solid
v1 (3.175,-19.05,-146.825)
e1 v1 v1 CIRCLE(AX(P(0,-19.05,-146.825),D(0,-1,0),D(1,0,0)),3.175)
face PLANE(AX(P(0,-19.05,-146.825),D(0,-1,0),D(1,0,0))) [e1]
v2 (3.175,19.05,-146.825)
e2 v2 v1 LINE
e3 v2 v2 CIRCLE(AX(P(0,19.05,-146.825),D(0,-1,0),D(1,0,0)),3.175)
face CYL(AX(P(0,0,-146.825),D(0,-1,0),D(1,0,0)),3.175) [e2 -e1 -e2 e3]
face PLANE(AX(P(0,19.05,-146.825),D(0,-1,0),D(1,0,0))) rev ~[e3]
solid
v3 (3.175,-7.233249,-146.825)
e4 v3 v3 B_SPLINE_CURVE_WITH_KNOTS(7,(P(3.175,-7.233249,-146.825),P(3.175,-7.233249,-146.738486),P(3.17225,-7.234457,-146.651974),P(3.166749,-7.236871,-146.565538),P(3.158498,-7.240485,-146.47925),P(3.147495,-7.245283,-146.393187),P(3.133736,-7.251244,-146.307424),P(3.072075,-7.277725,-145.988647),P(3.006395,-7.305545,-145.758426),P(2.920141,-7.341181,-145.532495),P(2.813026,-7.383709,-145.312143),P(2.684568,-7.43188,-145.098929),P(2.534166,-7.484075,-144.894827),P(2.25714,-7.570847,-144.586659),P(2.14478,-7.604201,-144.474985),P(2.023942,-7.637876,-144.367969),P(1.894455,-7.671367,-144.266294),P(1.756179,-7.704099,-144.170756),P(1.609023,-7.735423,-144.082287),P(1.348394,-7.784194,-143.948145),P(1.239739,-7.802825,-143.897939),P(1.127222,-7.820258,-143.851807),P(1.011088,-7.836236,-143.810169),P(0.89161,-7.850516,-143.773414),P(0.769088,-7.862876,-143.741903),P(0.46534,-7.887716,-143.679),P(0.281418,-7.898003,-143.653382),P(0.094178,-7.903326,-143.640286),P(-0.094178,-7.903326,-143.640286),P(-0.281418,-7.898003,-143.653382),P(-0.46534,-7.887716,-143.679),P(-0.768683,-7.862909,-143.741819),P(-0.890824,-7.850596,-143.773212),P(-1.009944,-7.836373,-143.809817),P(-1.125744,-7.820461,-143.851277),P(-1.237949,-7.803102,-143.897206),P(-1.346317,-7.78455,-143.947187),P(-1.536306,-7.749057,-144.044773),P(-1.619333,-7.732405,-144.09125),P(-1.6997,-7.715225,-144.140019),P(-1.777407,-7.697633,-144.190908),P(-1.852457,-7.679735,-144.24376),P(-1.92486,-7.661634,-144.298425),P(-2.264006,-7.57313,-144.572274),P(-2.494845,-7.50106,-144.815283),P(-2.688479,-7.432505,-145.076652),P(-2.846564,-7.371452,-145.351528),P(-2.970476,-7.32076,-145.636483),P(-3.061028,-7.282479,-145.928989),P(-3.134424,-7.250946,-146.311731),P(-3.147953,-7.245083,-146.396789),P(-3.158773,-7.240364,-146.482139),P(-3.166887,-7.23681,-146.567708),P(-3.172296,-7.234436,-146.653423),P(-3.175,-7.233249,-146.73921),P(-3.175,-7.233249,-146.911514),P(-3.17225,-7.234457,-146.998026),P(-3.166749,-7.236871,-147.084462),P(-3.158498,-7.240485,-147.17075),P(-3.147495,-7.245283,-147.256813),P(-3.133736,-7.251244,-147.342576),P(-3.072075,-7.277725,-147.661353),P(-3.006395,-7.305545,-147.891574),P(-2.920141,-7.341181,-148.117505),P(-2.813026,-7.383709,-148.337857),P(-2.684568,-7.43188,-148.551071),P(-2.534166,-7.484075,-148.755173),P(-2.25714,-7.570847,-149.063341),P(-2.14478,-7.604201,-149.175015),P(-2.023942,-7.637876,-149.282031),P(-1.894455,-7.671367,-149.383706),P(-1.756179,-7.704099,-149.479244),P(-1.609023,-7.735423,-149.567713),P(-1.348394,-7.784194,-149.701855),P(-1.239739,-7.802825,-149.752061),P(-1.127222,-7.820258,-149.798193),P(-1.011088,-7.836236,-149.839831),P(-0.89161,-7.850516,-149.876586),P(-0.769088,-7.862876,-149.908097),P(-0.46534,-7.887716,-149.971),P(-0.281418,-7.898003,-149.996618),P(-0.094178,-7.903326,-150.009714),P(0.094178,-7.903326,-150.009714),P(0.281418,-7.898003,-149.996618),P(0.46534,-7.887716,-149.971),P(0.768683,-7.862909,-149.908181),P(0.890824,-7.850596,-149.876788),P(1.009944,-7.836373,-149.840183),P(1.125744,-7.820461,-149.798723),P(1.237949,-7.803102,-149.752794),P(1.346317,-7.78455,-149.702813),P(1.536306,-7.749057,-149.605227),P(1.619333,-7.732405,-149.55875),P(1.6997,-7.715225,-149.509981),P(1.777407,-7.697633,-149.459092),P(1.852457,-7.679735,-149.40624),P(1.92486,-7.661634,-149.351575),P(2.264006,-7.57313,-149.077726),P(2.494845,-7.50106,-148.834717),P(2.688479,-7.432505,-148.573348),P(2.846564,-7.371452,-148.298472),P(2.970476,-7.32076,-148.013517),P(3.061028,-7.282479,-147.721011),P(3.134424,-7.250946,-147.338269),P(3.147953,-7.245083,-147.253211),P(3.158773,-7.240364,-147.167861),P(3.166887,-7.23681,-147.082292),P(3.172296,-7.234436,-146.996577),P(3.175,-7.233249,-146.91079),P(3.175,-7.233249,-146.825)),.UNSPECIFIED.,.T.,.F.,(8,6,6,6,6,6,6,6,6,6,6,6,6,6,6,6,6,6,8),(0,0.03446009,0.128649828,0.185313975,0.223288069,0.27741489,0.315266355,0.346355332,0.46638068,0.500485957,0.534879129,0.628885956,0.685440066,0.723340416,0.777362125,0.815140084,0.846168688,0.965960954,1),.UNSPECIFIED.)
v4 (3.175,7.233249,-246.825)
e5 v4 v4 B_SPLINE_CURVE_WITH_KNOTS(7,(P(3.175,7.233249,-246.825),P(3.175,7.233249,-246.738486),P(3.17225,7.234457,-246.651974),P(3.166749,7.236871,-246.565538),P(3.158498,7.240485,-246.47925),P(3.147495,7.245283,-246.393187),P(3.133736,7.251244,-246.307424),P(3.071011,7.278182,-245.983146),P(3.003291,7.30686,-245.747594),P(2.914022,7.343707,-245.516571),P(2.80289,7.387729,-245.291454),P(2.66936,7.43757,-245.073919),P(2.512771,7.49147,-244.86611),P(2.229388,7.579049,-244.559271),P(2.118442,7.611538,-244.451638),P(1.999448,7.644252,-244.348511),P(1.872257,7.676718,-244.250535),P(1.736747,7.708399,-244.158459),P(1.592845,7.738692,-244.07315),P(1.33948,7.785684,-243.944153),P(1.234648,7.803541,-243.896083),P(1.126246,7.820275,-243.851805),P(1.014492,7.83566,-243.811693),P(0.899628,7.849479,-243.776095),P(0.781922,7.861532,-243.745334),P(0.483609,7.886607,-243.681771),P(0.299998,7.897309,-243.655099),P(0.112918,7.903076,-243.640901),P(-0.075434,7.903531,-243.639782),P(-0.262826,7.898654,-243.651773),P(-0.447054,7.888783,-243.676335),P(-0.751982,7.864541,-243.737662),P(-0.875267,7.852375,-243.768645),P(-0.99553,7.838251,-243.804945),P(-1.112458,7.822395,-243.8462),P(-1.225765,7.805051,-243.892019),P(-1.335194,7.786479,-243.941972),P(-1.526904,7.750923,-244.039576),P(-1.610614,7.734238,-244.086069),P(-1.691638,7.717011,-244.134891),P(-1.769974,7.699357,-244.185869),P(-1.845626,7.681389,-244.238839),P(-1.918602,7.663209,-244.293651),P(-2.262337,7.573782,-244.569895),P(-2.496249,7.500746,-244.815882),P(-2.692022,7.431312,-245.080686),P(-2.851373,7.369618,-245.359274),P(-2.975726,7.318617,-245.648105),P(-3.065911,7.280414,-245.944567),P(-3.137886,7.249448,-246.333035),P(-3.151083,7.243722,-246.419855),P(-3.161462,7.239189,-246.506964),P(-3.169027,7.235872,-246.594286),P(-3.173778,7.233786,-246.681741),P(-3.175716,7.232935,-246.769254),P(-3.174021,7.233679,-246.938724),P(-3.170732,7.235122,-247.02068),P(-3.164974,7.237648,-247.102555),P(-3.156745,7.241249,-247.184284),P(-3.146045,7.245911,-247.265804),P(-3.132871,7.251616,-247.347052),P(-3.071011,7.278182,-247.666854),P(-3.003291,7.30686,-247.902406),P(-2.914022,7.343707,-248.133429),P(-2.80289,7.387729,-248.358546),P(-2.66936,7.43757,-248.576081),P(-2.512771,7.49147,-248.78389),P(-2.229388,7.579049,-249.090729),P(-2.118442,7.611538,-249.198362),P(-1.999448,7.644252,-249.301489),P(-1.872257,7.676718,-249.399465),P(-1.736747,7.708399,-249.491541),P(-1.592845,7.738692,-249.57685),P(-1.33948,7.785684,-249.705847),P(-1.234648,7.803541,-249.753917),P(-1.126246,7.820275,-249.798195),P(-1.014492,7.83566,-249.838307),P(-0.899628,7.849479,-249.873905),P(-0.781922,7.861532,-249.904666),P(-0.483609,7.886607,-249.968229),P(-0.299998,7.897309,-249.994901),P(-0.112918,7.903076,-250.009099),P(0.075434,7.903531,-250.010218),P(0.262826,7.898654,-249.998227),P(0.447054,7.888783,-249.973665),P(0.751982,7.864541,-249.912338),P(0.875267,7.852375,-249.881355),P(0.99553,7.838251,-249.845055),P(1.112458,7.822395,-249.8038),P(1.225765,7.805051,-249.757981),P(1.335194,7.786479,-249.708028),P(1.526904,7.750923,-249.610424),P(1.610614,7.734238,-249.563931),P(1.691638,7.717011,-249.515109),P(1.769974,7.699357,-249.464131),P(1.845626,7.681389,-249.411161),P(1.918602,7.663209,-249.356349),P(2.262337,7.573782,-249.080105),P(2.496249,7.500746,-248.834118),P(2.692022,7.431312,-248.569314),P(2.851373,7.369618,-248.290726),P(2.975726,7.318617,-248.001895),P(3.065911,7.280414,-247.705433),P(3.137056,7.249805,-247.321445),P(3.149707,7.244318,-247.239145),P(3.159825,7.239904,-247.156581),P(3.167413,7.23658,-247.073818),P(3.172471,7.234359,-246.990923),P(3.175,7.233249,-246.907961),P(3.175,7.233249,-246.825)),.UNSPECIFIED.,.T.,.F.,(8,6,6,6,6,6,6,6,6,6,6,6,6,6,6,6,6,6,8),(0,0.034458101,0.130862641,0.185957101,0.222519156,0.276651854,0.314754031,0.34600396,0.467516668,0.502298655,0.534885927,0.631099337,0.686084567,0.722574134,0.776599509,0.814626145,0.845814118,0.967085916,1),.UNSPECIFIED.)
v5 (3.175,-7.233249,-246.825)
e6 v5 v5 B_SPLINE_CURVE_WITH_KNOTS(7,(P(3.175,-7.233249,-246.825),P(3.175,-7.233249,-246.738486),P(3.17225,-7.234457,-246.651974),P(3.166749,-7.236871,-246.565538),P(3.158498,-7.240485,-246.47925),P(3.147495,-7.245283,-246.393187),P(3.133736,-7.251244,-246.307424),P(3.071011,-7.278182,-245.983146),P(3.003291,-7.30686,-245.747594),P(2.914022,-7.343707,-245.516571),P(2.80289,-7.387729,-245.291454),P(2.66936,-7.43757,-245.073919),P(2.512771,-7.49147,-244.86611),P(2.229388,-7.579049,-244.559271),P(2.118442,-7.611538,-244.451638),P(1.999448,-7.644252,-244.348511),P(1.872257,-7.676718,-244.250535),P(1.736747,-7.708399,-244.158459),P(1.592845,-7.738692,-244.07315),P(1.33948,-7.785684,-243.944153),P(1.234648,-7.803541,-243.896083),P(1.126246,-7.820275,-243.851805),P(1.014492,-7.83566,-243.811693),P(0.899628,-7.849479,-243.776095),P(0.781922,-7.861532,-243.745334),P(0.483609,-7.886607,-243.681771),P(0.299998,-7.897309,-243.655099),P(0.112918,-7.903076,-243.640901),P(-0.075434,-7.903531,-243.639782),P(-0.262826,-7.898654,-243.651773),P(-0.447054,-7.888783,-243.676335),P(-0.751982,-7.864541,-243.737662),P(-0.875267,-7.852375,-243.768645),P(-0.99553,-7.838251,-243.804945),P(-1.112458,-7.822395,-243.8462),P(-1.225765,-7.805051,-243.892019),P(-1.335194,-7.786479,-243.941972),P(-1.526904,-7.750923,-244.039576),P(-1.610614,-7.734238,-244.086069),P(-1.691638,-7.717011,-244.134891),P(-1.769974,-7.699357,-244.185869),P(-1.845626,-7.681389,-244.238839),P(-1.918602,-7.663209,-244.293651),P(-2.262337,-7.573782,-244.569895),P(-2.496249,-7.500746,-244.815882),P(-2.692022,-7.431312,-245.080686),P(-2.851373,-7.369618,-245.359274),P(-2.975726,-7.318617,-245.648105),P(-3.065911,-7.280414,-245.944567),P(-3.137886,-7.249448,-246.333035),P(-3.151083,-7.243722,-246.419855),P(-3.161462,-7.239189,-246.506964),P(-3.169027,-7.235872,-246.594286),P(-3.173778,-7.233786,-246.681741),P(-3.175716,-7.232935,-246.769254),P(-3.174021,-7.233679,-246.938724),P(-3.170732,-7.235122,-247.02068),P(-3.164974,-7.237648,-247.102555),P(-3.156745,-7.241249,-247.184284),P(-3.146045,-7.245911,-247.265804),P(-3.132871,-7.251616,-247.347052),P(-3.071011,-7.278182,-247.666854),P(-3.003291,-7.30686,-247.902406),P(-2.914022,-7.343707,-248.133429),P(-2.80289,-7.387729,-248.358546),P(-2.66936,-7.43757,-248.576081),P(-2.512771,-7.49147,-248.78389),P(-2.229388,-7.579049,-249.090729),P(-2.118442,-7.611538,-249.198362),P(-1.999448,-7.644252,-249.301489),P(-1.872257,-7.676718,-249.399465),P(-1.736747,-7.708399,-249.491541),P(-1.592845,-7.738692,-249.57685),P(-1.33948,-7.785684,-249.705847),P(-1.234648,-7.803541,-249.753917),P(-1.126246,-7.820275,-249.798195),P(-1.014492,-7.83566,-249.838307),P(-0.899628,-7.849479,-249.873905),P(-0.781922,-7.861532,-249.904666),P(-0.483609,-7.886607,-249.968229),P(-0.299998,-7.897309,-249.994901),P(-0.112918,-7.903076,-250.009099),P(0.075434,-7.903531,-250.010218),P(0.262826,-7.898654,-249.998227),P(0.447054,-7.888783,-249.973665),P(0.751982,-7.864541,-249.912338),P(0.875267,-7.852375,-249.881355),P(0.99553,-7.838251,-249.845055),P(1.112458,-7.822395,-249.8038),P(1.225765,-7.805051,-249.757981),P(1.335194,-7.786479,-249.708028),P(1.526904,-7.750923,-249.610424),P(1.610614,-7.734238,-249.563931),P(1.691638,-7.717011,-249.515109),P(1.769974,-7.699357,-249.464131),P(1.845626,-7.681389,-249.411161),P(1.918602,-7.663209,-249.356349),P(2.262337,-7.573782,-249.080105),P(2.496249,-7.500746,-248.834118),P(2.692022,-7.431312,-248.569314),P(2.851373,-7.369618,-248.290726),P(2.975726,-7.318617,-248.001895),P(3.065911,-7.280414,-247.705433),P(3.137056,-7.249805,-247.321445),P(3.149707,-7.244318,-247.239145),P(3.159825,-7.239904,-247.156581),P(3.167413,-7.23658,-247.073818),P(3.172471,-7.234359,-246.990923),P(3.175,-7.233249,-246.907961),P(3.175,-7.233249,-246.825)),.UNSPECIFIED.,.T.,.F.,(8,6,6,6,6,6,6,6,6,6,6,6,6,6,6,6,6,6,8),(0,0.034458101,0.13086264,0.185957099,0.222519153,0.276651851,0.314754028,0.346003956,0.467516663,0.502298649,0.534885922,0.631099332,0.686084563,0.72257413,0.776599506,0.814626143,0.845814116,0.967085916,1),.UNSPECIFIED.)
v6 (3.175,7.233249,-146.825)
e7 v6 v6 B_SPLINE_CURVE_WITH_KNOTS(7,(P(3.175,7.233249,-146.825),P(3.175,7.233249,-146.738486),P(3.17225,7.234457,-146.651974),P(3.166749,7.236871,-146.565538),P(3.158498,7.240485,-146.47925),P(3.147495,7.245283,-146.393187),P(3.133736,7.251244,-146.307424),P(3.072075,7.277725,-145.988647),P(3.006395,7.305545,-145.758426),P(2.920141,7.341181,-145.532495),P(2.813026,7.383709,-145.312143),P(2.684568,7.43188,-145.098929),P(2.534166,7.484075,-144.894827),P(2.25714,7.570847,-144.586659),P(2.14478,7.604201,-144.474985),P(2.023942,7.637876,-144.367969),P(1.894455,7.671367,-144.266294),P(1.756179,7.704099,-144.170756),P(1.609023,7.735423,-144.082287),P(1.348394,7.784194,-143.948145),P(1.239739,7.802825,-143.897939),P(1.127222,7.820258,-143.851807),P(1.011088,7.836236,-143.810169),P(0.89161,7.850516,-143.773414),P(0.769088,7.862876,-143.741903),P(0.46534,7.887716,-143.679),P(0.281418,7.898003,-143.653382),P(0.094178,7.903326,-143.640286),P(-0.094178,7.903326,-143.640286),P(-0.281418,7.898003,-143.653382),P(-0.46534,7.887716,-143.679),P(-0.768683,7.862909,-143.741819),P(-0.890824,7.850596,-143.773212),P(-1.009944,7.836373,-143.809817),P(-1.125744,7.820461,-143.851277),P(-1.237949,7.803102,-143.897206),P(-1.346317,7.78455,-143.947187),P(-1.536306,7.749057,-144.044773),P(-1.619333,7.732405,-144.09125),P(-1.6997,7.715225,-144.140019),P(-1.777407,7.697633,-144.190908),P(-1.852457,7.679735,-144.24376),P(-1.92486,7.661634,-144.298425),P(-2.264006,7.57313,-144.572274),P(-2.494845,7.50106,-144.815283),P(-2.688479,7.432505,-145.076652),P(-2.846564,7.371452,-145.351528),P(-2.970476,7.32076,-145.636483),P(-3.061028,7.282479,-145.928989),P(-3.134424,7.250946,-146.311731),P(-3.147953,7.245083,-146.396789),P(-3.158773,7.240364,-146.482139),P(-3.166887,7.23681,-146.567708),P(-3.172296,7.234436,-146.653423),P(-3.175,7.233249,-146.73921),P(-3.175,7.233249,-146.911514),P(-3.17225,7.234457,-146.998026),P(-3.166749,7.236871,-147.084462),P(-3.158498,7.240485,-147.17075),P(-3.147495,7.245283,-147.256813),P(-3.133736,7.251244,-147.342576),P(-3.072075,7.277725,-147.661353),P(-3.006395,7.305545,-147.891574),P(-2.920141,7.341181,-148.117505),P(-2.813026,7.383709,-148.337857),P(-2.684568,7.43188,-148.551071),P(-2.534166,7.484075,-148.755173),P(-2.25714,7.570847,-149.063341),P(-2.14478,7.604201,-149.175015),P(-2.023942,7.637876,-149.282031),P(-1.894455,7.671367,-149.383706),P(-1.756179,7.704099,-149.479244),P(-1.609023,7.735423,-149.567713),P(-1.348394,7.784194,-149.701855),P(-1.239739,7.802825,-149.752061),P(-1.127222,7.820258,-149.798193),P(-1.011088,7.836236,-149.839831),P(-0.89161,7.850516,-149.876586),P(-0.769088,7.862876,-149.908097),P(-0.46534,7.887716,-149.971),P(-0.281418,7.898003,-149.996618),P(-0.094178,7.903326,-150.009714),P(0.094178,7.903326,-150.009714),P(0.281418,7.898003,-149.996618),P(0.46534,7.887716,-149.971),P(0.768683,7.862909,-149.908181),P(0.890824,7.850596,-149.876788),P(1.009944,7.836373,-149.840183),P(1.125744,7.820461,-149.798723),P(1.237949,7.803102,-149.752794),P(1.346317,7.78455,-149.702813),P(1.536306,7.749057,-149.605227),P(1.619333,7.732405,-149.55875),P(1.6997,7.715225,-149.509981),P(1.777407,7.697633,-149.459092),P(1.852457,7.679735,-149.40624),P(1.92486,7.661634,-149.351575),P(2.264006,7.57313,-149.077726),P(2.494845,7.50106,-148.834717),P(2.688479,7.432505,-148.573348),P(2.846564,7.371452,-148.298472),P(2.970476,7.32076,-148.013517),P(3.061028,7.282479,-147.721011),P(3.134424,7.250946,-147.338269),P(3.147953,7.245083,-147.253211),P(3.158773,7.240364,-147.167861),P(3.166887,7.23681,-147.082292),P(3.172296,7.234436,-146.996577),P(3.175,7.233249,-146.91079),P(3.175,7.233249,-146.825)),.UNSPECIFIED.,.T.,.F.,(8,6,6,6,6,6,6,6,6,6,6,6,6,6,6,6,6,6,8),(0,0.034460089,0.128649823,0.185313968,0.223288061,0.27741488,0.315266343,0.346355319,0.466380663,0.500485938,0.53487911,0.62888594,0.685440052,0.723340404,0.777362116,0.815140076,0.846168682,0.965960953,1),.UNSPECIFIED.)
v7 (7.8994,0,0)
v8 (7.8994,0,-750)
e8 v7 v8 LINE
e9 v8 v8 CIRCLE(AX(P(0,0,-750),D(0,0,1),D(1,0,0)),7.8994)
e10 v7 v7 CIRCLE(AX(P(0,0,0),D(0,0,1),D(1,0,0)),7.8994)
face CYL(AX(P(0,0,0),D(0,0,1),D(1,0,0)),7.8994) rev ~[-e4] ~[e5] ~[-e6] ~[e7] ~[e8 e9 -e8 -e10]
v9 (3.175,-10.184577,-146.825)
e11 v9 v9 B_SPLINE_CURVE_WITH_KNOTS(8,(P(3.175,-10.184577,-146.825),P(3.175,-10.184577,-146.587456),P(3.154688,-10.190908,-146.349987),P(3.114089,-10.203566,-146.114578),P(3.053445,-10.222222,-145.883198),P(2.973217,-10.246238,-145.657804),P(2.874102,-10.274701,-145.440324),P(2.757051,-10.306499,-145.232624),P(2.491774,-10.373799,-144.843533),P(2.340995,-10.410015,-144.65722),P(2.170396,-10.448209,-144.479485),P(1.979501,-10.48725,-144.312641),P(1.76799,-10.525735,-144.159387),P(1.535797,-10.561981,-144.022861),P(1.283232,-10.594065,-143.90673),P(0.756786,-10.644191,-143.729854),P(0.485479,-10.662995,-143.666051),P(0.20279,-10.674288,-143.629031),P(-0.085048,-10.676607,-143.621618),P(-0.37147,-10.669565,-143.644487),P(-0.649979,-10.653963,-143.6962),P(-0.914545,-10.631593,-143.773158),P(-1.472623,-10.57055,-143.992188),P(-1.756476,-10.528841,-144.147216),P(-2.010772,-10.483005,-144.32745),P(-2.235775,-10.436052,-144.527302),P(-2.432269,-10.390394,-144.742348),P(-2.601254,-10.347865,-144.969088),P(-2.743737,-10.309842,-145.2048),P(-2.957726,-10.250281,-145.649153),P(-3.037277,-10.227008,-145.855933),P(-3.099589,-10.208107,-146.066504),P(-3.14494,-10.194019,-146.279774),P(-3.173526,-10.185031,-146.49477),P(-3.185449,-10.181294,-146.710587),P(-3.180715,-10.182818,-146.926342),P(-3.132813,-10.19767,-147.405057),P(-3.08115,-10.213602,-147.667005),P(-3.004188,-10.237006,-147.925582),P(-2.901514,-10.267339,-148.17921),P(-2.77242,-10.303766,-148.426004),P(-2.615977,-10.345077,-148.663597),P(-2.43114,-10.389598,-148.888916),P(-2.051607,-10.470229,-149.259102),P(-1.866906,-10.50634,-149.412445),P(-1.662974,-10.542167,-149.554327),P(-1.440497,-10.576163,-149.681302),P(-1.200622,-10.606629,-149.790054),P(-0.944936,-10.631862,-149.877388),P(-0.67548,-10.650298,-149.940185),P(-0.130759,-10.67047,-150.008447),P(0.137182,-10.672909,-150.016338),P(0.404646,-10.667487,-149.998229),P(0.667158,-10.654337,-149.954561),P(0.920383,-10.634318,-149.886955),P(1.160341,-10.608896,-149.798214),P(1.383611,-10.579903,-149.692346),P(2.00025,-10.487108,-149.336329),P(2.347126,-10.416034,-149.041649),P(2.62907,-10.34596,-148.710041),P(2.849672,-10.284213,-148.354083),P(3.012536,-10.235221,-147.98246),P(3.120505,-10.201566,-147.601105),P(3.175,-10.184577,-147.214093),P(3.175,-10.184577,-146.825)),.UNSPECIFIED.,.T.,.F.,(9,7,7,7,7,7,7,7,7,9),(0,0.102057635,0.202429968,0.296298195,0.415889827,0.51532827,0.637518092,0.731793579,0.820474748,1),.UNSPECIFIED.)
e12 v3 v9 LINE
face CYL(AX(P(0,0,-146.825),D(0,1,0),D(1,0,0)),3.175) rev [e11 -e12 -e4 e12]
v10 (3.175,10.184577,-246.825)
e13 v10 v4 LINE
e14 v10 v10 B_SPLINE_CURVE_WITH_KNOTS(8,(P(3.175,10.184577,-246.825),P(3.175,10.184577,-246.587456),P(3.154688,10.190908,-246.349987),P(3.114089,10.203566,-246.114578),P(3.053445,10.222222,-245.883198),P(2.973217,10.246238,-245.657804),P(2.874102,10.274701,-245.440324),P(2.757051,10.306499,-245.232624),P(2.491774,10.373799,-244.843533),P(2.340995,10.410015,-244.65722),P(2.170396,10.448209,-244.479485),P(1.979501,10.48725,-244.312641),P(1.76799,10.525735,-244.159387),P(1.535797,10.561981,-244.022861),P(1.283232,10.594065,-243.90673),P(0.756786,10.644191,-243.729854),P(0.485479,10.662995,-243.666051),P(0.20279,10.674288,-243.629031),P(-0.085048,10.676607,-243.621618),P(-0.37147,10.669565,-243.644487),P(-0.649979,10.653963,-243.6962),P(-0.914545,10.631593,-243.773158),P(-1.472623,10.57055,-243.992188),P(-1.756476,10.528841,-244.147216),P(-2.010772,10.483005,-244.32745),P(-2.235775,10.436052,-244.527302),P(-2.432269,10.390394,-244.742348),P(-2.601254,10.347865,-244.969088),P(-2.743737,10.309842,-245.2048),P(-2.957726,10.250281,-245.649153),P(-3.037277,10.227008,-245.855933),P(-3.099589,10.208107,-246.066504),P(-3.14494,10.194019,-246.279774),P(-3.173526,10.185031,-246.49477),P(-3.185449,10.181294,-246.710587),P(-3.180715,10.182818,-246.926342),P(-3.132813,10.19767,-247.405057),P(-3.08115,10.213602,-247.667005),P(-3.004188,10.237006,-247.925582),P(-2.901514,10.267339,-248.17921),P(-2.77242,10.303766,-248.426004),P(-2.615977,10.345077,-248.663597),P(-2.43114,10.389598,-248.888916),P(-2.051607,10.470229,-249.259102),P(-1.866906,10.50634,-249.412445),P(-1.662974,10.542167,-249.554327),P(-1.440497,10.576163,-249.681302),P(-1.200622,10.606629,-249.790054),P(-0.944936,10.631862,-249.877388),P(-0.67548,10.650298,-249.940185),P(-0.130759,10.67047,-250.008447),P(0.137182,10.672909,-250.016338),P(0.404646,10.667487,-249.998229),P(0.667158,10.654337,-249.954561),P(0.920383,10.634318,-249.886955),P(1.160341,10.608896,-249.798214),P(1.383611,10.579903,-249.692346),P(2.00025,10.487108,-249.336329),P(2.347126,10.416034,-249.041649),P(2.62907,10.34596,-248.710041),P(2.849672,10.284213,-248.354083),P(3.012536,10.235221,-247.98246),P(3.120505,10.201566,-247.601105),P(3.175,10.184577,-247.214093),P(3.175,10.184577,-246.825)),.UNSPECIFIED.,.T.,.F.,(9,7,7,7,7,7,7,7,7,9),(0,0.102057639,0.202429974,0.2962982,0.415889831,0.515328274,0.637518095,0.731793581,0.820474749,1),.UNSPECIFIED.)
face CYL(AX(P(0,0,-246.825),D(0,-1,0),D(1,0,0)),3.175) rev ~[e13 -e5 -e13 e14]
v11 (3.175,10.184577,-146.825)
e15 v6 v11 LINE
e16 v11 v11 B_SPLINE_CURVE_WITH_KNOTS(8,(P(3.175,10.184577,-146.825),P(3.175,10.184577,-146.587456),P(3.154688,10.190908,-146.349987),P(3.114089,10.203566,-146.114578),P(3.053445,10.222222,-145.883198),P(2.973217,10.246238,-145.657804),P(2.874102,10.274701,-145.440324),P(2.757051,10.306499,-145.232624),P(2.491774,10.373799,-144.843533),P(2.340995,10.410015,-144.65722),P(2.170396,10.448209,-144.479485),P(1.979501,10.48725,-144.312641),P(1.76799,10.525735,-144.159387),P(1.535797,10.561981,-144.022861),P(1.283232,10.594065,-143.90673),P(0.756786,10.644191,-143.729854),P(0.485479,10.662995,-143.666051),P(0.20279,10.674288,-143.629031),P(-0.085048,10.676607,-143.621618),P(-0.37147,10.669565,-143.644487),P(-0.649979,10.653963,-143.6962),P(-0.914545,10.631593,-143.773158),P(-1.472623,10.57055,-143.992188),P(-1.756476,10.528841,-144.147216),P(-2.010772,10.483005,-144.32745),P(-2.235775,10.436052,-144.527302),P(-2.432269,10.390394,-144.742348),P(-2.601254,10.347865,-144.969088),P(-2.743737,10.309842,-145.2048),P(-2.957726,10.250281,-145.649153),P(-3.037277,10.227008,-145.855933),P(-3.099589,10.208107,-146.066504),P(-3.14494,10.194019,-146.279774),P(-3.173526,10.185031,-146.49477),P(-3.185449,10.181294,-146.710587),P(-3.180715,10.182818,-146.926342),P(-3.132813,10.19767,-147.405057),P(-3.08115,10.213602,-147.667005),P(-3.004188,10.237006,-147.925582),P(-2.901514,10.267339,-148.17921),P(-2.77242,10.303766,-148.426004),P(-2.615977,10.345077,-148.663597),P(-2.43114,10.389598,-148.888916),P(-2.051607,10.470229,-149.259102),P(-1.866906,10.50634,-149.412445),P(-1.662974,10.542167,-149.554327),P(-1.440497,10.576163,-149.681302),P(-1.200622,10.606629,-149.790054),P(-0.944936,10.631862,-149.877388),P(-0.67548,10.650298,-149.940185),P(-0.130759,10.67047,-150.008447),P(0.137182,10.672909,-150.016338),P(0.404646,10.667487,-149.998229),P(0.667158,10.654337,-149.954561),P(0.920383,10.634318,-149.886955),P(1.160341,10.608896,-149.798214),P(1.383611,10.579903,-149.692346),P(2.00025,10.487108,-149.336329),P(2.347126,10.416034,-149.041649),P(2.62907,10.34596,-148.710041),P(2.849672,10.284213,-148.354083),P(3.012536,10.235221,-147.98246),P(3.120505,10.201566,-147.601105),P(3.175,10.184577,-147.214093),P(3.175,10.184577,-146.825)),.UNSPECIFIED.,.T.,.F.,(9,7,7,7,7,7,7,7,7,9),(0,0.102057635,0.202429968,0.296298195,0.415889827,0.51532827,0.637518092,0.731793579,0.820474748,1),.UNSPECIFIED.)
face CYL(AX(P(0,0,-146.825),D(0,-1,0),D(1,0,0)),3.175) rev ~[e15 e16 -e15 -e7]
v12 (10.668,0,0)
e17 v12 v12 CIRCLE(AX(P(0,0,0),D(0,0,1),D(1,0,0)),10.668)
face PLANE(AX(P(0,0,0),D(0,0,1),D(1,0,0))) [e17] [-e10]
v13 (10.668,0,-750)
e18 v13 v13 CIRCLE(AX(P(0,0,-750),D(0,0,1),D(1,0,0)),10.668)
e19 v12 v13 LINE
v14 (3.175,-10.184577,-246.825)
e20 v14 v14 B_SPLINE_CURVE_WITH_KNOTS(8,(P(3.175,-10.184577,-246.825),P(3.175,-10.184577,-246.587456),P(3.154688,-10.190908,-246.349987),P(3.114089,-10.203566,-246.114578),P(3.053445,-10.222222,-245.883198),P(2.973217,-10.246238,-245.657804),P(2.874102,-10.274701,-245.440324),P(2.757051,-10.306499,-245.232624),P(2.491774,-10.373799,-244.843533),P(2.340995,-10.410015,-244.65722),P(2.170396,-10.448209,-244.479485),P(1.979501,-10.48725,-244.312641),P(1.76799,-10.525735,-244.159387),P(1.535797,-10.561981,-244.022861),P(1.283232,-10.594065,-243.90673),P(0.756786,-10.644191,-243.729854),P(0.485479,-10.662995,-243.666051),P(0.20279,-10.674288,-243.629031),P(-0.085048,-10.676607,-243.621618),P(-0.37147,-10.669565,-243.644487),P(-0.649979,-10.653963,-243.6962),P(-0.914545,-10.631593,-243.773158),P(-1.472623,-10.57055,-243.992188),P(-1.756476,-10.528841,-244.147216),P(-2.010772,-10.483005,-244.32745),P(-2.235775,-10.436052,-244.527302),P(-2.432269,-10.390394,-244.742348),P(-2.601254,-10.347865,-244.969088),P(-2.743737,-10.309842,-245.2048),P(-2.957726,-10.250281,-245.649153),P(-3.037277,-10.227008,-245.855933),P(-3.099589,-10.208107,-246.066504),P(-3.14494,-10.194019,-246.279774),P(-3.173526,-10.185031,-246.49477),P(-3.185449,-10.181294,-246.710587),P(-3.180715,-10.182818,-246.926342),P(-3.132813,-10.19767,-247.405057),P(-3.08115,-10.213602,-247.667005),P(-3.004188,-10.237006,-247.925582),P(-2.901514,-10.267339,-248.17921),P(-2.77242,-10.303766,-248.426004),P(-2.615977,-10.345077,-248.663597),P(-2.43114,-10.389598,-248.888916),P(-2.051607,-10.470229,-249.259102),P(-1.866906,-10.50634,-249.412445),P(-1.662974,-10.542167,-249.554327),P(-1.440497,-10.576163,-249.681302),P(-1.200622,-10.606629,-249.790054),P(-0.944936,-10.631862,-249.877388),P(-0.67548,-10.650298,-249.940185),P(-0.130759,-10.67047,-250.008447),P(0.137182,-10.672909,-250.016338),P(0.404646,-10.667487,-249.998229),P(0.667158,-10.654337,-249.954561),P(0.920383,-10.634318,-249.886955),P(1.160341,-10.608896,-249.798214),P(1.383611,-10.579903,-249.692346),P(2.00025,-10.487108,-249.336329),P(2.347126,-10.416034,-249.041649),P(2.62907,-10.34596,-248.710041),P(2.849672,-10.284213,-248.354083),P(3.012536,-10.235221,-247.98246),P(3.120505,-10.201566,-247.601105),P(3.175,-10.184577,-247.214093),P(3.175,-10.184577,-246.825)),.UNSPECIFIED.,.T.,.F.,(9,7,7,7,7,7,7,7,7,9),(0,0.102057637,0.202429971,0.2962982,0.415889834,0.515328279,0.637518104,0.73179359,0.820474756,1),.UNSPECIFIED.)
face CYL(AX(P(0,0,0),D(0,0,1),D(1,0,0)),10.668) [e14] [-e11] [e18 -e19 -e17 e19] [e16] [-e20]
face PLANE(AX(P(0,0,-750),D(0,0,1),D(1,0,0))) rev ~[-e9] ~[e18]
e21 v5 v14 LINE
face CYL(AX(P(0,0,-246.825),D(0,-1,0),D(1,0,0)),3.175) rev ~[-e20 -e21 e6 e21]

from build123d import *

# Parameters (mm, degrees)
F0_R     = 10.668
F0_R_2   = 7.8994
F1_DEPTH = 750
F2_R     = 3.175
F3_DEPTH = 12.7
F4_DEPTH = 19.05


with BuildPart() as f1:
    # F0 (on Top) → F1 (new body)
    with BuildSketch(Plane.XY):
        Circle(F0_R)
        Circle(F0_R_2, mode=Mode.SUBTRACT)
    extrude(amount=-F1_DEPTH)

    # F2 (on Front) → F3 (cut, symmetric)
    with BuildSketch(Plane.XZ):
        with Locations((0, -146.825)):
            Circle(F2_R)
        with Locations((0, -246.825)):
            Circle(F2_R)
    extrude(amount=F3_DEPTH, both=True, mode=Mode.SUBTRACT)


with BuildPart() as f4:
    # F2 (on Front) → F4 (new body, symmetric)
    with BuildSketch(Plane.XZ):
        with Locations((0, -146.825)):
            Circle(F2_R)
    extrude(amount=F4_DEPTH, both=True)


solid = Compound([f1.part, f4.part])
